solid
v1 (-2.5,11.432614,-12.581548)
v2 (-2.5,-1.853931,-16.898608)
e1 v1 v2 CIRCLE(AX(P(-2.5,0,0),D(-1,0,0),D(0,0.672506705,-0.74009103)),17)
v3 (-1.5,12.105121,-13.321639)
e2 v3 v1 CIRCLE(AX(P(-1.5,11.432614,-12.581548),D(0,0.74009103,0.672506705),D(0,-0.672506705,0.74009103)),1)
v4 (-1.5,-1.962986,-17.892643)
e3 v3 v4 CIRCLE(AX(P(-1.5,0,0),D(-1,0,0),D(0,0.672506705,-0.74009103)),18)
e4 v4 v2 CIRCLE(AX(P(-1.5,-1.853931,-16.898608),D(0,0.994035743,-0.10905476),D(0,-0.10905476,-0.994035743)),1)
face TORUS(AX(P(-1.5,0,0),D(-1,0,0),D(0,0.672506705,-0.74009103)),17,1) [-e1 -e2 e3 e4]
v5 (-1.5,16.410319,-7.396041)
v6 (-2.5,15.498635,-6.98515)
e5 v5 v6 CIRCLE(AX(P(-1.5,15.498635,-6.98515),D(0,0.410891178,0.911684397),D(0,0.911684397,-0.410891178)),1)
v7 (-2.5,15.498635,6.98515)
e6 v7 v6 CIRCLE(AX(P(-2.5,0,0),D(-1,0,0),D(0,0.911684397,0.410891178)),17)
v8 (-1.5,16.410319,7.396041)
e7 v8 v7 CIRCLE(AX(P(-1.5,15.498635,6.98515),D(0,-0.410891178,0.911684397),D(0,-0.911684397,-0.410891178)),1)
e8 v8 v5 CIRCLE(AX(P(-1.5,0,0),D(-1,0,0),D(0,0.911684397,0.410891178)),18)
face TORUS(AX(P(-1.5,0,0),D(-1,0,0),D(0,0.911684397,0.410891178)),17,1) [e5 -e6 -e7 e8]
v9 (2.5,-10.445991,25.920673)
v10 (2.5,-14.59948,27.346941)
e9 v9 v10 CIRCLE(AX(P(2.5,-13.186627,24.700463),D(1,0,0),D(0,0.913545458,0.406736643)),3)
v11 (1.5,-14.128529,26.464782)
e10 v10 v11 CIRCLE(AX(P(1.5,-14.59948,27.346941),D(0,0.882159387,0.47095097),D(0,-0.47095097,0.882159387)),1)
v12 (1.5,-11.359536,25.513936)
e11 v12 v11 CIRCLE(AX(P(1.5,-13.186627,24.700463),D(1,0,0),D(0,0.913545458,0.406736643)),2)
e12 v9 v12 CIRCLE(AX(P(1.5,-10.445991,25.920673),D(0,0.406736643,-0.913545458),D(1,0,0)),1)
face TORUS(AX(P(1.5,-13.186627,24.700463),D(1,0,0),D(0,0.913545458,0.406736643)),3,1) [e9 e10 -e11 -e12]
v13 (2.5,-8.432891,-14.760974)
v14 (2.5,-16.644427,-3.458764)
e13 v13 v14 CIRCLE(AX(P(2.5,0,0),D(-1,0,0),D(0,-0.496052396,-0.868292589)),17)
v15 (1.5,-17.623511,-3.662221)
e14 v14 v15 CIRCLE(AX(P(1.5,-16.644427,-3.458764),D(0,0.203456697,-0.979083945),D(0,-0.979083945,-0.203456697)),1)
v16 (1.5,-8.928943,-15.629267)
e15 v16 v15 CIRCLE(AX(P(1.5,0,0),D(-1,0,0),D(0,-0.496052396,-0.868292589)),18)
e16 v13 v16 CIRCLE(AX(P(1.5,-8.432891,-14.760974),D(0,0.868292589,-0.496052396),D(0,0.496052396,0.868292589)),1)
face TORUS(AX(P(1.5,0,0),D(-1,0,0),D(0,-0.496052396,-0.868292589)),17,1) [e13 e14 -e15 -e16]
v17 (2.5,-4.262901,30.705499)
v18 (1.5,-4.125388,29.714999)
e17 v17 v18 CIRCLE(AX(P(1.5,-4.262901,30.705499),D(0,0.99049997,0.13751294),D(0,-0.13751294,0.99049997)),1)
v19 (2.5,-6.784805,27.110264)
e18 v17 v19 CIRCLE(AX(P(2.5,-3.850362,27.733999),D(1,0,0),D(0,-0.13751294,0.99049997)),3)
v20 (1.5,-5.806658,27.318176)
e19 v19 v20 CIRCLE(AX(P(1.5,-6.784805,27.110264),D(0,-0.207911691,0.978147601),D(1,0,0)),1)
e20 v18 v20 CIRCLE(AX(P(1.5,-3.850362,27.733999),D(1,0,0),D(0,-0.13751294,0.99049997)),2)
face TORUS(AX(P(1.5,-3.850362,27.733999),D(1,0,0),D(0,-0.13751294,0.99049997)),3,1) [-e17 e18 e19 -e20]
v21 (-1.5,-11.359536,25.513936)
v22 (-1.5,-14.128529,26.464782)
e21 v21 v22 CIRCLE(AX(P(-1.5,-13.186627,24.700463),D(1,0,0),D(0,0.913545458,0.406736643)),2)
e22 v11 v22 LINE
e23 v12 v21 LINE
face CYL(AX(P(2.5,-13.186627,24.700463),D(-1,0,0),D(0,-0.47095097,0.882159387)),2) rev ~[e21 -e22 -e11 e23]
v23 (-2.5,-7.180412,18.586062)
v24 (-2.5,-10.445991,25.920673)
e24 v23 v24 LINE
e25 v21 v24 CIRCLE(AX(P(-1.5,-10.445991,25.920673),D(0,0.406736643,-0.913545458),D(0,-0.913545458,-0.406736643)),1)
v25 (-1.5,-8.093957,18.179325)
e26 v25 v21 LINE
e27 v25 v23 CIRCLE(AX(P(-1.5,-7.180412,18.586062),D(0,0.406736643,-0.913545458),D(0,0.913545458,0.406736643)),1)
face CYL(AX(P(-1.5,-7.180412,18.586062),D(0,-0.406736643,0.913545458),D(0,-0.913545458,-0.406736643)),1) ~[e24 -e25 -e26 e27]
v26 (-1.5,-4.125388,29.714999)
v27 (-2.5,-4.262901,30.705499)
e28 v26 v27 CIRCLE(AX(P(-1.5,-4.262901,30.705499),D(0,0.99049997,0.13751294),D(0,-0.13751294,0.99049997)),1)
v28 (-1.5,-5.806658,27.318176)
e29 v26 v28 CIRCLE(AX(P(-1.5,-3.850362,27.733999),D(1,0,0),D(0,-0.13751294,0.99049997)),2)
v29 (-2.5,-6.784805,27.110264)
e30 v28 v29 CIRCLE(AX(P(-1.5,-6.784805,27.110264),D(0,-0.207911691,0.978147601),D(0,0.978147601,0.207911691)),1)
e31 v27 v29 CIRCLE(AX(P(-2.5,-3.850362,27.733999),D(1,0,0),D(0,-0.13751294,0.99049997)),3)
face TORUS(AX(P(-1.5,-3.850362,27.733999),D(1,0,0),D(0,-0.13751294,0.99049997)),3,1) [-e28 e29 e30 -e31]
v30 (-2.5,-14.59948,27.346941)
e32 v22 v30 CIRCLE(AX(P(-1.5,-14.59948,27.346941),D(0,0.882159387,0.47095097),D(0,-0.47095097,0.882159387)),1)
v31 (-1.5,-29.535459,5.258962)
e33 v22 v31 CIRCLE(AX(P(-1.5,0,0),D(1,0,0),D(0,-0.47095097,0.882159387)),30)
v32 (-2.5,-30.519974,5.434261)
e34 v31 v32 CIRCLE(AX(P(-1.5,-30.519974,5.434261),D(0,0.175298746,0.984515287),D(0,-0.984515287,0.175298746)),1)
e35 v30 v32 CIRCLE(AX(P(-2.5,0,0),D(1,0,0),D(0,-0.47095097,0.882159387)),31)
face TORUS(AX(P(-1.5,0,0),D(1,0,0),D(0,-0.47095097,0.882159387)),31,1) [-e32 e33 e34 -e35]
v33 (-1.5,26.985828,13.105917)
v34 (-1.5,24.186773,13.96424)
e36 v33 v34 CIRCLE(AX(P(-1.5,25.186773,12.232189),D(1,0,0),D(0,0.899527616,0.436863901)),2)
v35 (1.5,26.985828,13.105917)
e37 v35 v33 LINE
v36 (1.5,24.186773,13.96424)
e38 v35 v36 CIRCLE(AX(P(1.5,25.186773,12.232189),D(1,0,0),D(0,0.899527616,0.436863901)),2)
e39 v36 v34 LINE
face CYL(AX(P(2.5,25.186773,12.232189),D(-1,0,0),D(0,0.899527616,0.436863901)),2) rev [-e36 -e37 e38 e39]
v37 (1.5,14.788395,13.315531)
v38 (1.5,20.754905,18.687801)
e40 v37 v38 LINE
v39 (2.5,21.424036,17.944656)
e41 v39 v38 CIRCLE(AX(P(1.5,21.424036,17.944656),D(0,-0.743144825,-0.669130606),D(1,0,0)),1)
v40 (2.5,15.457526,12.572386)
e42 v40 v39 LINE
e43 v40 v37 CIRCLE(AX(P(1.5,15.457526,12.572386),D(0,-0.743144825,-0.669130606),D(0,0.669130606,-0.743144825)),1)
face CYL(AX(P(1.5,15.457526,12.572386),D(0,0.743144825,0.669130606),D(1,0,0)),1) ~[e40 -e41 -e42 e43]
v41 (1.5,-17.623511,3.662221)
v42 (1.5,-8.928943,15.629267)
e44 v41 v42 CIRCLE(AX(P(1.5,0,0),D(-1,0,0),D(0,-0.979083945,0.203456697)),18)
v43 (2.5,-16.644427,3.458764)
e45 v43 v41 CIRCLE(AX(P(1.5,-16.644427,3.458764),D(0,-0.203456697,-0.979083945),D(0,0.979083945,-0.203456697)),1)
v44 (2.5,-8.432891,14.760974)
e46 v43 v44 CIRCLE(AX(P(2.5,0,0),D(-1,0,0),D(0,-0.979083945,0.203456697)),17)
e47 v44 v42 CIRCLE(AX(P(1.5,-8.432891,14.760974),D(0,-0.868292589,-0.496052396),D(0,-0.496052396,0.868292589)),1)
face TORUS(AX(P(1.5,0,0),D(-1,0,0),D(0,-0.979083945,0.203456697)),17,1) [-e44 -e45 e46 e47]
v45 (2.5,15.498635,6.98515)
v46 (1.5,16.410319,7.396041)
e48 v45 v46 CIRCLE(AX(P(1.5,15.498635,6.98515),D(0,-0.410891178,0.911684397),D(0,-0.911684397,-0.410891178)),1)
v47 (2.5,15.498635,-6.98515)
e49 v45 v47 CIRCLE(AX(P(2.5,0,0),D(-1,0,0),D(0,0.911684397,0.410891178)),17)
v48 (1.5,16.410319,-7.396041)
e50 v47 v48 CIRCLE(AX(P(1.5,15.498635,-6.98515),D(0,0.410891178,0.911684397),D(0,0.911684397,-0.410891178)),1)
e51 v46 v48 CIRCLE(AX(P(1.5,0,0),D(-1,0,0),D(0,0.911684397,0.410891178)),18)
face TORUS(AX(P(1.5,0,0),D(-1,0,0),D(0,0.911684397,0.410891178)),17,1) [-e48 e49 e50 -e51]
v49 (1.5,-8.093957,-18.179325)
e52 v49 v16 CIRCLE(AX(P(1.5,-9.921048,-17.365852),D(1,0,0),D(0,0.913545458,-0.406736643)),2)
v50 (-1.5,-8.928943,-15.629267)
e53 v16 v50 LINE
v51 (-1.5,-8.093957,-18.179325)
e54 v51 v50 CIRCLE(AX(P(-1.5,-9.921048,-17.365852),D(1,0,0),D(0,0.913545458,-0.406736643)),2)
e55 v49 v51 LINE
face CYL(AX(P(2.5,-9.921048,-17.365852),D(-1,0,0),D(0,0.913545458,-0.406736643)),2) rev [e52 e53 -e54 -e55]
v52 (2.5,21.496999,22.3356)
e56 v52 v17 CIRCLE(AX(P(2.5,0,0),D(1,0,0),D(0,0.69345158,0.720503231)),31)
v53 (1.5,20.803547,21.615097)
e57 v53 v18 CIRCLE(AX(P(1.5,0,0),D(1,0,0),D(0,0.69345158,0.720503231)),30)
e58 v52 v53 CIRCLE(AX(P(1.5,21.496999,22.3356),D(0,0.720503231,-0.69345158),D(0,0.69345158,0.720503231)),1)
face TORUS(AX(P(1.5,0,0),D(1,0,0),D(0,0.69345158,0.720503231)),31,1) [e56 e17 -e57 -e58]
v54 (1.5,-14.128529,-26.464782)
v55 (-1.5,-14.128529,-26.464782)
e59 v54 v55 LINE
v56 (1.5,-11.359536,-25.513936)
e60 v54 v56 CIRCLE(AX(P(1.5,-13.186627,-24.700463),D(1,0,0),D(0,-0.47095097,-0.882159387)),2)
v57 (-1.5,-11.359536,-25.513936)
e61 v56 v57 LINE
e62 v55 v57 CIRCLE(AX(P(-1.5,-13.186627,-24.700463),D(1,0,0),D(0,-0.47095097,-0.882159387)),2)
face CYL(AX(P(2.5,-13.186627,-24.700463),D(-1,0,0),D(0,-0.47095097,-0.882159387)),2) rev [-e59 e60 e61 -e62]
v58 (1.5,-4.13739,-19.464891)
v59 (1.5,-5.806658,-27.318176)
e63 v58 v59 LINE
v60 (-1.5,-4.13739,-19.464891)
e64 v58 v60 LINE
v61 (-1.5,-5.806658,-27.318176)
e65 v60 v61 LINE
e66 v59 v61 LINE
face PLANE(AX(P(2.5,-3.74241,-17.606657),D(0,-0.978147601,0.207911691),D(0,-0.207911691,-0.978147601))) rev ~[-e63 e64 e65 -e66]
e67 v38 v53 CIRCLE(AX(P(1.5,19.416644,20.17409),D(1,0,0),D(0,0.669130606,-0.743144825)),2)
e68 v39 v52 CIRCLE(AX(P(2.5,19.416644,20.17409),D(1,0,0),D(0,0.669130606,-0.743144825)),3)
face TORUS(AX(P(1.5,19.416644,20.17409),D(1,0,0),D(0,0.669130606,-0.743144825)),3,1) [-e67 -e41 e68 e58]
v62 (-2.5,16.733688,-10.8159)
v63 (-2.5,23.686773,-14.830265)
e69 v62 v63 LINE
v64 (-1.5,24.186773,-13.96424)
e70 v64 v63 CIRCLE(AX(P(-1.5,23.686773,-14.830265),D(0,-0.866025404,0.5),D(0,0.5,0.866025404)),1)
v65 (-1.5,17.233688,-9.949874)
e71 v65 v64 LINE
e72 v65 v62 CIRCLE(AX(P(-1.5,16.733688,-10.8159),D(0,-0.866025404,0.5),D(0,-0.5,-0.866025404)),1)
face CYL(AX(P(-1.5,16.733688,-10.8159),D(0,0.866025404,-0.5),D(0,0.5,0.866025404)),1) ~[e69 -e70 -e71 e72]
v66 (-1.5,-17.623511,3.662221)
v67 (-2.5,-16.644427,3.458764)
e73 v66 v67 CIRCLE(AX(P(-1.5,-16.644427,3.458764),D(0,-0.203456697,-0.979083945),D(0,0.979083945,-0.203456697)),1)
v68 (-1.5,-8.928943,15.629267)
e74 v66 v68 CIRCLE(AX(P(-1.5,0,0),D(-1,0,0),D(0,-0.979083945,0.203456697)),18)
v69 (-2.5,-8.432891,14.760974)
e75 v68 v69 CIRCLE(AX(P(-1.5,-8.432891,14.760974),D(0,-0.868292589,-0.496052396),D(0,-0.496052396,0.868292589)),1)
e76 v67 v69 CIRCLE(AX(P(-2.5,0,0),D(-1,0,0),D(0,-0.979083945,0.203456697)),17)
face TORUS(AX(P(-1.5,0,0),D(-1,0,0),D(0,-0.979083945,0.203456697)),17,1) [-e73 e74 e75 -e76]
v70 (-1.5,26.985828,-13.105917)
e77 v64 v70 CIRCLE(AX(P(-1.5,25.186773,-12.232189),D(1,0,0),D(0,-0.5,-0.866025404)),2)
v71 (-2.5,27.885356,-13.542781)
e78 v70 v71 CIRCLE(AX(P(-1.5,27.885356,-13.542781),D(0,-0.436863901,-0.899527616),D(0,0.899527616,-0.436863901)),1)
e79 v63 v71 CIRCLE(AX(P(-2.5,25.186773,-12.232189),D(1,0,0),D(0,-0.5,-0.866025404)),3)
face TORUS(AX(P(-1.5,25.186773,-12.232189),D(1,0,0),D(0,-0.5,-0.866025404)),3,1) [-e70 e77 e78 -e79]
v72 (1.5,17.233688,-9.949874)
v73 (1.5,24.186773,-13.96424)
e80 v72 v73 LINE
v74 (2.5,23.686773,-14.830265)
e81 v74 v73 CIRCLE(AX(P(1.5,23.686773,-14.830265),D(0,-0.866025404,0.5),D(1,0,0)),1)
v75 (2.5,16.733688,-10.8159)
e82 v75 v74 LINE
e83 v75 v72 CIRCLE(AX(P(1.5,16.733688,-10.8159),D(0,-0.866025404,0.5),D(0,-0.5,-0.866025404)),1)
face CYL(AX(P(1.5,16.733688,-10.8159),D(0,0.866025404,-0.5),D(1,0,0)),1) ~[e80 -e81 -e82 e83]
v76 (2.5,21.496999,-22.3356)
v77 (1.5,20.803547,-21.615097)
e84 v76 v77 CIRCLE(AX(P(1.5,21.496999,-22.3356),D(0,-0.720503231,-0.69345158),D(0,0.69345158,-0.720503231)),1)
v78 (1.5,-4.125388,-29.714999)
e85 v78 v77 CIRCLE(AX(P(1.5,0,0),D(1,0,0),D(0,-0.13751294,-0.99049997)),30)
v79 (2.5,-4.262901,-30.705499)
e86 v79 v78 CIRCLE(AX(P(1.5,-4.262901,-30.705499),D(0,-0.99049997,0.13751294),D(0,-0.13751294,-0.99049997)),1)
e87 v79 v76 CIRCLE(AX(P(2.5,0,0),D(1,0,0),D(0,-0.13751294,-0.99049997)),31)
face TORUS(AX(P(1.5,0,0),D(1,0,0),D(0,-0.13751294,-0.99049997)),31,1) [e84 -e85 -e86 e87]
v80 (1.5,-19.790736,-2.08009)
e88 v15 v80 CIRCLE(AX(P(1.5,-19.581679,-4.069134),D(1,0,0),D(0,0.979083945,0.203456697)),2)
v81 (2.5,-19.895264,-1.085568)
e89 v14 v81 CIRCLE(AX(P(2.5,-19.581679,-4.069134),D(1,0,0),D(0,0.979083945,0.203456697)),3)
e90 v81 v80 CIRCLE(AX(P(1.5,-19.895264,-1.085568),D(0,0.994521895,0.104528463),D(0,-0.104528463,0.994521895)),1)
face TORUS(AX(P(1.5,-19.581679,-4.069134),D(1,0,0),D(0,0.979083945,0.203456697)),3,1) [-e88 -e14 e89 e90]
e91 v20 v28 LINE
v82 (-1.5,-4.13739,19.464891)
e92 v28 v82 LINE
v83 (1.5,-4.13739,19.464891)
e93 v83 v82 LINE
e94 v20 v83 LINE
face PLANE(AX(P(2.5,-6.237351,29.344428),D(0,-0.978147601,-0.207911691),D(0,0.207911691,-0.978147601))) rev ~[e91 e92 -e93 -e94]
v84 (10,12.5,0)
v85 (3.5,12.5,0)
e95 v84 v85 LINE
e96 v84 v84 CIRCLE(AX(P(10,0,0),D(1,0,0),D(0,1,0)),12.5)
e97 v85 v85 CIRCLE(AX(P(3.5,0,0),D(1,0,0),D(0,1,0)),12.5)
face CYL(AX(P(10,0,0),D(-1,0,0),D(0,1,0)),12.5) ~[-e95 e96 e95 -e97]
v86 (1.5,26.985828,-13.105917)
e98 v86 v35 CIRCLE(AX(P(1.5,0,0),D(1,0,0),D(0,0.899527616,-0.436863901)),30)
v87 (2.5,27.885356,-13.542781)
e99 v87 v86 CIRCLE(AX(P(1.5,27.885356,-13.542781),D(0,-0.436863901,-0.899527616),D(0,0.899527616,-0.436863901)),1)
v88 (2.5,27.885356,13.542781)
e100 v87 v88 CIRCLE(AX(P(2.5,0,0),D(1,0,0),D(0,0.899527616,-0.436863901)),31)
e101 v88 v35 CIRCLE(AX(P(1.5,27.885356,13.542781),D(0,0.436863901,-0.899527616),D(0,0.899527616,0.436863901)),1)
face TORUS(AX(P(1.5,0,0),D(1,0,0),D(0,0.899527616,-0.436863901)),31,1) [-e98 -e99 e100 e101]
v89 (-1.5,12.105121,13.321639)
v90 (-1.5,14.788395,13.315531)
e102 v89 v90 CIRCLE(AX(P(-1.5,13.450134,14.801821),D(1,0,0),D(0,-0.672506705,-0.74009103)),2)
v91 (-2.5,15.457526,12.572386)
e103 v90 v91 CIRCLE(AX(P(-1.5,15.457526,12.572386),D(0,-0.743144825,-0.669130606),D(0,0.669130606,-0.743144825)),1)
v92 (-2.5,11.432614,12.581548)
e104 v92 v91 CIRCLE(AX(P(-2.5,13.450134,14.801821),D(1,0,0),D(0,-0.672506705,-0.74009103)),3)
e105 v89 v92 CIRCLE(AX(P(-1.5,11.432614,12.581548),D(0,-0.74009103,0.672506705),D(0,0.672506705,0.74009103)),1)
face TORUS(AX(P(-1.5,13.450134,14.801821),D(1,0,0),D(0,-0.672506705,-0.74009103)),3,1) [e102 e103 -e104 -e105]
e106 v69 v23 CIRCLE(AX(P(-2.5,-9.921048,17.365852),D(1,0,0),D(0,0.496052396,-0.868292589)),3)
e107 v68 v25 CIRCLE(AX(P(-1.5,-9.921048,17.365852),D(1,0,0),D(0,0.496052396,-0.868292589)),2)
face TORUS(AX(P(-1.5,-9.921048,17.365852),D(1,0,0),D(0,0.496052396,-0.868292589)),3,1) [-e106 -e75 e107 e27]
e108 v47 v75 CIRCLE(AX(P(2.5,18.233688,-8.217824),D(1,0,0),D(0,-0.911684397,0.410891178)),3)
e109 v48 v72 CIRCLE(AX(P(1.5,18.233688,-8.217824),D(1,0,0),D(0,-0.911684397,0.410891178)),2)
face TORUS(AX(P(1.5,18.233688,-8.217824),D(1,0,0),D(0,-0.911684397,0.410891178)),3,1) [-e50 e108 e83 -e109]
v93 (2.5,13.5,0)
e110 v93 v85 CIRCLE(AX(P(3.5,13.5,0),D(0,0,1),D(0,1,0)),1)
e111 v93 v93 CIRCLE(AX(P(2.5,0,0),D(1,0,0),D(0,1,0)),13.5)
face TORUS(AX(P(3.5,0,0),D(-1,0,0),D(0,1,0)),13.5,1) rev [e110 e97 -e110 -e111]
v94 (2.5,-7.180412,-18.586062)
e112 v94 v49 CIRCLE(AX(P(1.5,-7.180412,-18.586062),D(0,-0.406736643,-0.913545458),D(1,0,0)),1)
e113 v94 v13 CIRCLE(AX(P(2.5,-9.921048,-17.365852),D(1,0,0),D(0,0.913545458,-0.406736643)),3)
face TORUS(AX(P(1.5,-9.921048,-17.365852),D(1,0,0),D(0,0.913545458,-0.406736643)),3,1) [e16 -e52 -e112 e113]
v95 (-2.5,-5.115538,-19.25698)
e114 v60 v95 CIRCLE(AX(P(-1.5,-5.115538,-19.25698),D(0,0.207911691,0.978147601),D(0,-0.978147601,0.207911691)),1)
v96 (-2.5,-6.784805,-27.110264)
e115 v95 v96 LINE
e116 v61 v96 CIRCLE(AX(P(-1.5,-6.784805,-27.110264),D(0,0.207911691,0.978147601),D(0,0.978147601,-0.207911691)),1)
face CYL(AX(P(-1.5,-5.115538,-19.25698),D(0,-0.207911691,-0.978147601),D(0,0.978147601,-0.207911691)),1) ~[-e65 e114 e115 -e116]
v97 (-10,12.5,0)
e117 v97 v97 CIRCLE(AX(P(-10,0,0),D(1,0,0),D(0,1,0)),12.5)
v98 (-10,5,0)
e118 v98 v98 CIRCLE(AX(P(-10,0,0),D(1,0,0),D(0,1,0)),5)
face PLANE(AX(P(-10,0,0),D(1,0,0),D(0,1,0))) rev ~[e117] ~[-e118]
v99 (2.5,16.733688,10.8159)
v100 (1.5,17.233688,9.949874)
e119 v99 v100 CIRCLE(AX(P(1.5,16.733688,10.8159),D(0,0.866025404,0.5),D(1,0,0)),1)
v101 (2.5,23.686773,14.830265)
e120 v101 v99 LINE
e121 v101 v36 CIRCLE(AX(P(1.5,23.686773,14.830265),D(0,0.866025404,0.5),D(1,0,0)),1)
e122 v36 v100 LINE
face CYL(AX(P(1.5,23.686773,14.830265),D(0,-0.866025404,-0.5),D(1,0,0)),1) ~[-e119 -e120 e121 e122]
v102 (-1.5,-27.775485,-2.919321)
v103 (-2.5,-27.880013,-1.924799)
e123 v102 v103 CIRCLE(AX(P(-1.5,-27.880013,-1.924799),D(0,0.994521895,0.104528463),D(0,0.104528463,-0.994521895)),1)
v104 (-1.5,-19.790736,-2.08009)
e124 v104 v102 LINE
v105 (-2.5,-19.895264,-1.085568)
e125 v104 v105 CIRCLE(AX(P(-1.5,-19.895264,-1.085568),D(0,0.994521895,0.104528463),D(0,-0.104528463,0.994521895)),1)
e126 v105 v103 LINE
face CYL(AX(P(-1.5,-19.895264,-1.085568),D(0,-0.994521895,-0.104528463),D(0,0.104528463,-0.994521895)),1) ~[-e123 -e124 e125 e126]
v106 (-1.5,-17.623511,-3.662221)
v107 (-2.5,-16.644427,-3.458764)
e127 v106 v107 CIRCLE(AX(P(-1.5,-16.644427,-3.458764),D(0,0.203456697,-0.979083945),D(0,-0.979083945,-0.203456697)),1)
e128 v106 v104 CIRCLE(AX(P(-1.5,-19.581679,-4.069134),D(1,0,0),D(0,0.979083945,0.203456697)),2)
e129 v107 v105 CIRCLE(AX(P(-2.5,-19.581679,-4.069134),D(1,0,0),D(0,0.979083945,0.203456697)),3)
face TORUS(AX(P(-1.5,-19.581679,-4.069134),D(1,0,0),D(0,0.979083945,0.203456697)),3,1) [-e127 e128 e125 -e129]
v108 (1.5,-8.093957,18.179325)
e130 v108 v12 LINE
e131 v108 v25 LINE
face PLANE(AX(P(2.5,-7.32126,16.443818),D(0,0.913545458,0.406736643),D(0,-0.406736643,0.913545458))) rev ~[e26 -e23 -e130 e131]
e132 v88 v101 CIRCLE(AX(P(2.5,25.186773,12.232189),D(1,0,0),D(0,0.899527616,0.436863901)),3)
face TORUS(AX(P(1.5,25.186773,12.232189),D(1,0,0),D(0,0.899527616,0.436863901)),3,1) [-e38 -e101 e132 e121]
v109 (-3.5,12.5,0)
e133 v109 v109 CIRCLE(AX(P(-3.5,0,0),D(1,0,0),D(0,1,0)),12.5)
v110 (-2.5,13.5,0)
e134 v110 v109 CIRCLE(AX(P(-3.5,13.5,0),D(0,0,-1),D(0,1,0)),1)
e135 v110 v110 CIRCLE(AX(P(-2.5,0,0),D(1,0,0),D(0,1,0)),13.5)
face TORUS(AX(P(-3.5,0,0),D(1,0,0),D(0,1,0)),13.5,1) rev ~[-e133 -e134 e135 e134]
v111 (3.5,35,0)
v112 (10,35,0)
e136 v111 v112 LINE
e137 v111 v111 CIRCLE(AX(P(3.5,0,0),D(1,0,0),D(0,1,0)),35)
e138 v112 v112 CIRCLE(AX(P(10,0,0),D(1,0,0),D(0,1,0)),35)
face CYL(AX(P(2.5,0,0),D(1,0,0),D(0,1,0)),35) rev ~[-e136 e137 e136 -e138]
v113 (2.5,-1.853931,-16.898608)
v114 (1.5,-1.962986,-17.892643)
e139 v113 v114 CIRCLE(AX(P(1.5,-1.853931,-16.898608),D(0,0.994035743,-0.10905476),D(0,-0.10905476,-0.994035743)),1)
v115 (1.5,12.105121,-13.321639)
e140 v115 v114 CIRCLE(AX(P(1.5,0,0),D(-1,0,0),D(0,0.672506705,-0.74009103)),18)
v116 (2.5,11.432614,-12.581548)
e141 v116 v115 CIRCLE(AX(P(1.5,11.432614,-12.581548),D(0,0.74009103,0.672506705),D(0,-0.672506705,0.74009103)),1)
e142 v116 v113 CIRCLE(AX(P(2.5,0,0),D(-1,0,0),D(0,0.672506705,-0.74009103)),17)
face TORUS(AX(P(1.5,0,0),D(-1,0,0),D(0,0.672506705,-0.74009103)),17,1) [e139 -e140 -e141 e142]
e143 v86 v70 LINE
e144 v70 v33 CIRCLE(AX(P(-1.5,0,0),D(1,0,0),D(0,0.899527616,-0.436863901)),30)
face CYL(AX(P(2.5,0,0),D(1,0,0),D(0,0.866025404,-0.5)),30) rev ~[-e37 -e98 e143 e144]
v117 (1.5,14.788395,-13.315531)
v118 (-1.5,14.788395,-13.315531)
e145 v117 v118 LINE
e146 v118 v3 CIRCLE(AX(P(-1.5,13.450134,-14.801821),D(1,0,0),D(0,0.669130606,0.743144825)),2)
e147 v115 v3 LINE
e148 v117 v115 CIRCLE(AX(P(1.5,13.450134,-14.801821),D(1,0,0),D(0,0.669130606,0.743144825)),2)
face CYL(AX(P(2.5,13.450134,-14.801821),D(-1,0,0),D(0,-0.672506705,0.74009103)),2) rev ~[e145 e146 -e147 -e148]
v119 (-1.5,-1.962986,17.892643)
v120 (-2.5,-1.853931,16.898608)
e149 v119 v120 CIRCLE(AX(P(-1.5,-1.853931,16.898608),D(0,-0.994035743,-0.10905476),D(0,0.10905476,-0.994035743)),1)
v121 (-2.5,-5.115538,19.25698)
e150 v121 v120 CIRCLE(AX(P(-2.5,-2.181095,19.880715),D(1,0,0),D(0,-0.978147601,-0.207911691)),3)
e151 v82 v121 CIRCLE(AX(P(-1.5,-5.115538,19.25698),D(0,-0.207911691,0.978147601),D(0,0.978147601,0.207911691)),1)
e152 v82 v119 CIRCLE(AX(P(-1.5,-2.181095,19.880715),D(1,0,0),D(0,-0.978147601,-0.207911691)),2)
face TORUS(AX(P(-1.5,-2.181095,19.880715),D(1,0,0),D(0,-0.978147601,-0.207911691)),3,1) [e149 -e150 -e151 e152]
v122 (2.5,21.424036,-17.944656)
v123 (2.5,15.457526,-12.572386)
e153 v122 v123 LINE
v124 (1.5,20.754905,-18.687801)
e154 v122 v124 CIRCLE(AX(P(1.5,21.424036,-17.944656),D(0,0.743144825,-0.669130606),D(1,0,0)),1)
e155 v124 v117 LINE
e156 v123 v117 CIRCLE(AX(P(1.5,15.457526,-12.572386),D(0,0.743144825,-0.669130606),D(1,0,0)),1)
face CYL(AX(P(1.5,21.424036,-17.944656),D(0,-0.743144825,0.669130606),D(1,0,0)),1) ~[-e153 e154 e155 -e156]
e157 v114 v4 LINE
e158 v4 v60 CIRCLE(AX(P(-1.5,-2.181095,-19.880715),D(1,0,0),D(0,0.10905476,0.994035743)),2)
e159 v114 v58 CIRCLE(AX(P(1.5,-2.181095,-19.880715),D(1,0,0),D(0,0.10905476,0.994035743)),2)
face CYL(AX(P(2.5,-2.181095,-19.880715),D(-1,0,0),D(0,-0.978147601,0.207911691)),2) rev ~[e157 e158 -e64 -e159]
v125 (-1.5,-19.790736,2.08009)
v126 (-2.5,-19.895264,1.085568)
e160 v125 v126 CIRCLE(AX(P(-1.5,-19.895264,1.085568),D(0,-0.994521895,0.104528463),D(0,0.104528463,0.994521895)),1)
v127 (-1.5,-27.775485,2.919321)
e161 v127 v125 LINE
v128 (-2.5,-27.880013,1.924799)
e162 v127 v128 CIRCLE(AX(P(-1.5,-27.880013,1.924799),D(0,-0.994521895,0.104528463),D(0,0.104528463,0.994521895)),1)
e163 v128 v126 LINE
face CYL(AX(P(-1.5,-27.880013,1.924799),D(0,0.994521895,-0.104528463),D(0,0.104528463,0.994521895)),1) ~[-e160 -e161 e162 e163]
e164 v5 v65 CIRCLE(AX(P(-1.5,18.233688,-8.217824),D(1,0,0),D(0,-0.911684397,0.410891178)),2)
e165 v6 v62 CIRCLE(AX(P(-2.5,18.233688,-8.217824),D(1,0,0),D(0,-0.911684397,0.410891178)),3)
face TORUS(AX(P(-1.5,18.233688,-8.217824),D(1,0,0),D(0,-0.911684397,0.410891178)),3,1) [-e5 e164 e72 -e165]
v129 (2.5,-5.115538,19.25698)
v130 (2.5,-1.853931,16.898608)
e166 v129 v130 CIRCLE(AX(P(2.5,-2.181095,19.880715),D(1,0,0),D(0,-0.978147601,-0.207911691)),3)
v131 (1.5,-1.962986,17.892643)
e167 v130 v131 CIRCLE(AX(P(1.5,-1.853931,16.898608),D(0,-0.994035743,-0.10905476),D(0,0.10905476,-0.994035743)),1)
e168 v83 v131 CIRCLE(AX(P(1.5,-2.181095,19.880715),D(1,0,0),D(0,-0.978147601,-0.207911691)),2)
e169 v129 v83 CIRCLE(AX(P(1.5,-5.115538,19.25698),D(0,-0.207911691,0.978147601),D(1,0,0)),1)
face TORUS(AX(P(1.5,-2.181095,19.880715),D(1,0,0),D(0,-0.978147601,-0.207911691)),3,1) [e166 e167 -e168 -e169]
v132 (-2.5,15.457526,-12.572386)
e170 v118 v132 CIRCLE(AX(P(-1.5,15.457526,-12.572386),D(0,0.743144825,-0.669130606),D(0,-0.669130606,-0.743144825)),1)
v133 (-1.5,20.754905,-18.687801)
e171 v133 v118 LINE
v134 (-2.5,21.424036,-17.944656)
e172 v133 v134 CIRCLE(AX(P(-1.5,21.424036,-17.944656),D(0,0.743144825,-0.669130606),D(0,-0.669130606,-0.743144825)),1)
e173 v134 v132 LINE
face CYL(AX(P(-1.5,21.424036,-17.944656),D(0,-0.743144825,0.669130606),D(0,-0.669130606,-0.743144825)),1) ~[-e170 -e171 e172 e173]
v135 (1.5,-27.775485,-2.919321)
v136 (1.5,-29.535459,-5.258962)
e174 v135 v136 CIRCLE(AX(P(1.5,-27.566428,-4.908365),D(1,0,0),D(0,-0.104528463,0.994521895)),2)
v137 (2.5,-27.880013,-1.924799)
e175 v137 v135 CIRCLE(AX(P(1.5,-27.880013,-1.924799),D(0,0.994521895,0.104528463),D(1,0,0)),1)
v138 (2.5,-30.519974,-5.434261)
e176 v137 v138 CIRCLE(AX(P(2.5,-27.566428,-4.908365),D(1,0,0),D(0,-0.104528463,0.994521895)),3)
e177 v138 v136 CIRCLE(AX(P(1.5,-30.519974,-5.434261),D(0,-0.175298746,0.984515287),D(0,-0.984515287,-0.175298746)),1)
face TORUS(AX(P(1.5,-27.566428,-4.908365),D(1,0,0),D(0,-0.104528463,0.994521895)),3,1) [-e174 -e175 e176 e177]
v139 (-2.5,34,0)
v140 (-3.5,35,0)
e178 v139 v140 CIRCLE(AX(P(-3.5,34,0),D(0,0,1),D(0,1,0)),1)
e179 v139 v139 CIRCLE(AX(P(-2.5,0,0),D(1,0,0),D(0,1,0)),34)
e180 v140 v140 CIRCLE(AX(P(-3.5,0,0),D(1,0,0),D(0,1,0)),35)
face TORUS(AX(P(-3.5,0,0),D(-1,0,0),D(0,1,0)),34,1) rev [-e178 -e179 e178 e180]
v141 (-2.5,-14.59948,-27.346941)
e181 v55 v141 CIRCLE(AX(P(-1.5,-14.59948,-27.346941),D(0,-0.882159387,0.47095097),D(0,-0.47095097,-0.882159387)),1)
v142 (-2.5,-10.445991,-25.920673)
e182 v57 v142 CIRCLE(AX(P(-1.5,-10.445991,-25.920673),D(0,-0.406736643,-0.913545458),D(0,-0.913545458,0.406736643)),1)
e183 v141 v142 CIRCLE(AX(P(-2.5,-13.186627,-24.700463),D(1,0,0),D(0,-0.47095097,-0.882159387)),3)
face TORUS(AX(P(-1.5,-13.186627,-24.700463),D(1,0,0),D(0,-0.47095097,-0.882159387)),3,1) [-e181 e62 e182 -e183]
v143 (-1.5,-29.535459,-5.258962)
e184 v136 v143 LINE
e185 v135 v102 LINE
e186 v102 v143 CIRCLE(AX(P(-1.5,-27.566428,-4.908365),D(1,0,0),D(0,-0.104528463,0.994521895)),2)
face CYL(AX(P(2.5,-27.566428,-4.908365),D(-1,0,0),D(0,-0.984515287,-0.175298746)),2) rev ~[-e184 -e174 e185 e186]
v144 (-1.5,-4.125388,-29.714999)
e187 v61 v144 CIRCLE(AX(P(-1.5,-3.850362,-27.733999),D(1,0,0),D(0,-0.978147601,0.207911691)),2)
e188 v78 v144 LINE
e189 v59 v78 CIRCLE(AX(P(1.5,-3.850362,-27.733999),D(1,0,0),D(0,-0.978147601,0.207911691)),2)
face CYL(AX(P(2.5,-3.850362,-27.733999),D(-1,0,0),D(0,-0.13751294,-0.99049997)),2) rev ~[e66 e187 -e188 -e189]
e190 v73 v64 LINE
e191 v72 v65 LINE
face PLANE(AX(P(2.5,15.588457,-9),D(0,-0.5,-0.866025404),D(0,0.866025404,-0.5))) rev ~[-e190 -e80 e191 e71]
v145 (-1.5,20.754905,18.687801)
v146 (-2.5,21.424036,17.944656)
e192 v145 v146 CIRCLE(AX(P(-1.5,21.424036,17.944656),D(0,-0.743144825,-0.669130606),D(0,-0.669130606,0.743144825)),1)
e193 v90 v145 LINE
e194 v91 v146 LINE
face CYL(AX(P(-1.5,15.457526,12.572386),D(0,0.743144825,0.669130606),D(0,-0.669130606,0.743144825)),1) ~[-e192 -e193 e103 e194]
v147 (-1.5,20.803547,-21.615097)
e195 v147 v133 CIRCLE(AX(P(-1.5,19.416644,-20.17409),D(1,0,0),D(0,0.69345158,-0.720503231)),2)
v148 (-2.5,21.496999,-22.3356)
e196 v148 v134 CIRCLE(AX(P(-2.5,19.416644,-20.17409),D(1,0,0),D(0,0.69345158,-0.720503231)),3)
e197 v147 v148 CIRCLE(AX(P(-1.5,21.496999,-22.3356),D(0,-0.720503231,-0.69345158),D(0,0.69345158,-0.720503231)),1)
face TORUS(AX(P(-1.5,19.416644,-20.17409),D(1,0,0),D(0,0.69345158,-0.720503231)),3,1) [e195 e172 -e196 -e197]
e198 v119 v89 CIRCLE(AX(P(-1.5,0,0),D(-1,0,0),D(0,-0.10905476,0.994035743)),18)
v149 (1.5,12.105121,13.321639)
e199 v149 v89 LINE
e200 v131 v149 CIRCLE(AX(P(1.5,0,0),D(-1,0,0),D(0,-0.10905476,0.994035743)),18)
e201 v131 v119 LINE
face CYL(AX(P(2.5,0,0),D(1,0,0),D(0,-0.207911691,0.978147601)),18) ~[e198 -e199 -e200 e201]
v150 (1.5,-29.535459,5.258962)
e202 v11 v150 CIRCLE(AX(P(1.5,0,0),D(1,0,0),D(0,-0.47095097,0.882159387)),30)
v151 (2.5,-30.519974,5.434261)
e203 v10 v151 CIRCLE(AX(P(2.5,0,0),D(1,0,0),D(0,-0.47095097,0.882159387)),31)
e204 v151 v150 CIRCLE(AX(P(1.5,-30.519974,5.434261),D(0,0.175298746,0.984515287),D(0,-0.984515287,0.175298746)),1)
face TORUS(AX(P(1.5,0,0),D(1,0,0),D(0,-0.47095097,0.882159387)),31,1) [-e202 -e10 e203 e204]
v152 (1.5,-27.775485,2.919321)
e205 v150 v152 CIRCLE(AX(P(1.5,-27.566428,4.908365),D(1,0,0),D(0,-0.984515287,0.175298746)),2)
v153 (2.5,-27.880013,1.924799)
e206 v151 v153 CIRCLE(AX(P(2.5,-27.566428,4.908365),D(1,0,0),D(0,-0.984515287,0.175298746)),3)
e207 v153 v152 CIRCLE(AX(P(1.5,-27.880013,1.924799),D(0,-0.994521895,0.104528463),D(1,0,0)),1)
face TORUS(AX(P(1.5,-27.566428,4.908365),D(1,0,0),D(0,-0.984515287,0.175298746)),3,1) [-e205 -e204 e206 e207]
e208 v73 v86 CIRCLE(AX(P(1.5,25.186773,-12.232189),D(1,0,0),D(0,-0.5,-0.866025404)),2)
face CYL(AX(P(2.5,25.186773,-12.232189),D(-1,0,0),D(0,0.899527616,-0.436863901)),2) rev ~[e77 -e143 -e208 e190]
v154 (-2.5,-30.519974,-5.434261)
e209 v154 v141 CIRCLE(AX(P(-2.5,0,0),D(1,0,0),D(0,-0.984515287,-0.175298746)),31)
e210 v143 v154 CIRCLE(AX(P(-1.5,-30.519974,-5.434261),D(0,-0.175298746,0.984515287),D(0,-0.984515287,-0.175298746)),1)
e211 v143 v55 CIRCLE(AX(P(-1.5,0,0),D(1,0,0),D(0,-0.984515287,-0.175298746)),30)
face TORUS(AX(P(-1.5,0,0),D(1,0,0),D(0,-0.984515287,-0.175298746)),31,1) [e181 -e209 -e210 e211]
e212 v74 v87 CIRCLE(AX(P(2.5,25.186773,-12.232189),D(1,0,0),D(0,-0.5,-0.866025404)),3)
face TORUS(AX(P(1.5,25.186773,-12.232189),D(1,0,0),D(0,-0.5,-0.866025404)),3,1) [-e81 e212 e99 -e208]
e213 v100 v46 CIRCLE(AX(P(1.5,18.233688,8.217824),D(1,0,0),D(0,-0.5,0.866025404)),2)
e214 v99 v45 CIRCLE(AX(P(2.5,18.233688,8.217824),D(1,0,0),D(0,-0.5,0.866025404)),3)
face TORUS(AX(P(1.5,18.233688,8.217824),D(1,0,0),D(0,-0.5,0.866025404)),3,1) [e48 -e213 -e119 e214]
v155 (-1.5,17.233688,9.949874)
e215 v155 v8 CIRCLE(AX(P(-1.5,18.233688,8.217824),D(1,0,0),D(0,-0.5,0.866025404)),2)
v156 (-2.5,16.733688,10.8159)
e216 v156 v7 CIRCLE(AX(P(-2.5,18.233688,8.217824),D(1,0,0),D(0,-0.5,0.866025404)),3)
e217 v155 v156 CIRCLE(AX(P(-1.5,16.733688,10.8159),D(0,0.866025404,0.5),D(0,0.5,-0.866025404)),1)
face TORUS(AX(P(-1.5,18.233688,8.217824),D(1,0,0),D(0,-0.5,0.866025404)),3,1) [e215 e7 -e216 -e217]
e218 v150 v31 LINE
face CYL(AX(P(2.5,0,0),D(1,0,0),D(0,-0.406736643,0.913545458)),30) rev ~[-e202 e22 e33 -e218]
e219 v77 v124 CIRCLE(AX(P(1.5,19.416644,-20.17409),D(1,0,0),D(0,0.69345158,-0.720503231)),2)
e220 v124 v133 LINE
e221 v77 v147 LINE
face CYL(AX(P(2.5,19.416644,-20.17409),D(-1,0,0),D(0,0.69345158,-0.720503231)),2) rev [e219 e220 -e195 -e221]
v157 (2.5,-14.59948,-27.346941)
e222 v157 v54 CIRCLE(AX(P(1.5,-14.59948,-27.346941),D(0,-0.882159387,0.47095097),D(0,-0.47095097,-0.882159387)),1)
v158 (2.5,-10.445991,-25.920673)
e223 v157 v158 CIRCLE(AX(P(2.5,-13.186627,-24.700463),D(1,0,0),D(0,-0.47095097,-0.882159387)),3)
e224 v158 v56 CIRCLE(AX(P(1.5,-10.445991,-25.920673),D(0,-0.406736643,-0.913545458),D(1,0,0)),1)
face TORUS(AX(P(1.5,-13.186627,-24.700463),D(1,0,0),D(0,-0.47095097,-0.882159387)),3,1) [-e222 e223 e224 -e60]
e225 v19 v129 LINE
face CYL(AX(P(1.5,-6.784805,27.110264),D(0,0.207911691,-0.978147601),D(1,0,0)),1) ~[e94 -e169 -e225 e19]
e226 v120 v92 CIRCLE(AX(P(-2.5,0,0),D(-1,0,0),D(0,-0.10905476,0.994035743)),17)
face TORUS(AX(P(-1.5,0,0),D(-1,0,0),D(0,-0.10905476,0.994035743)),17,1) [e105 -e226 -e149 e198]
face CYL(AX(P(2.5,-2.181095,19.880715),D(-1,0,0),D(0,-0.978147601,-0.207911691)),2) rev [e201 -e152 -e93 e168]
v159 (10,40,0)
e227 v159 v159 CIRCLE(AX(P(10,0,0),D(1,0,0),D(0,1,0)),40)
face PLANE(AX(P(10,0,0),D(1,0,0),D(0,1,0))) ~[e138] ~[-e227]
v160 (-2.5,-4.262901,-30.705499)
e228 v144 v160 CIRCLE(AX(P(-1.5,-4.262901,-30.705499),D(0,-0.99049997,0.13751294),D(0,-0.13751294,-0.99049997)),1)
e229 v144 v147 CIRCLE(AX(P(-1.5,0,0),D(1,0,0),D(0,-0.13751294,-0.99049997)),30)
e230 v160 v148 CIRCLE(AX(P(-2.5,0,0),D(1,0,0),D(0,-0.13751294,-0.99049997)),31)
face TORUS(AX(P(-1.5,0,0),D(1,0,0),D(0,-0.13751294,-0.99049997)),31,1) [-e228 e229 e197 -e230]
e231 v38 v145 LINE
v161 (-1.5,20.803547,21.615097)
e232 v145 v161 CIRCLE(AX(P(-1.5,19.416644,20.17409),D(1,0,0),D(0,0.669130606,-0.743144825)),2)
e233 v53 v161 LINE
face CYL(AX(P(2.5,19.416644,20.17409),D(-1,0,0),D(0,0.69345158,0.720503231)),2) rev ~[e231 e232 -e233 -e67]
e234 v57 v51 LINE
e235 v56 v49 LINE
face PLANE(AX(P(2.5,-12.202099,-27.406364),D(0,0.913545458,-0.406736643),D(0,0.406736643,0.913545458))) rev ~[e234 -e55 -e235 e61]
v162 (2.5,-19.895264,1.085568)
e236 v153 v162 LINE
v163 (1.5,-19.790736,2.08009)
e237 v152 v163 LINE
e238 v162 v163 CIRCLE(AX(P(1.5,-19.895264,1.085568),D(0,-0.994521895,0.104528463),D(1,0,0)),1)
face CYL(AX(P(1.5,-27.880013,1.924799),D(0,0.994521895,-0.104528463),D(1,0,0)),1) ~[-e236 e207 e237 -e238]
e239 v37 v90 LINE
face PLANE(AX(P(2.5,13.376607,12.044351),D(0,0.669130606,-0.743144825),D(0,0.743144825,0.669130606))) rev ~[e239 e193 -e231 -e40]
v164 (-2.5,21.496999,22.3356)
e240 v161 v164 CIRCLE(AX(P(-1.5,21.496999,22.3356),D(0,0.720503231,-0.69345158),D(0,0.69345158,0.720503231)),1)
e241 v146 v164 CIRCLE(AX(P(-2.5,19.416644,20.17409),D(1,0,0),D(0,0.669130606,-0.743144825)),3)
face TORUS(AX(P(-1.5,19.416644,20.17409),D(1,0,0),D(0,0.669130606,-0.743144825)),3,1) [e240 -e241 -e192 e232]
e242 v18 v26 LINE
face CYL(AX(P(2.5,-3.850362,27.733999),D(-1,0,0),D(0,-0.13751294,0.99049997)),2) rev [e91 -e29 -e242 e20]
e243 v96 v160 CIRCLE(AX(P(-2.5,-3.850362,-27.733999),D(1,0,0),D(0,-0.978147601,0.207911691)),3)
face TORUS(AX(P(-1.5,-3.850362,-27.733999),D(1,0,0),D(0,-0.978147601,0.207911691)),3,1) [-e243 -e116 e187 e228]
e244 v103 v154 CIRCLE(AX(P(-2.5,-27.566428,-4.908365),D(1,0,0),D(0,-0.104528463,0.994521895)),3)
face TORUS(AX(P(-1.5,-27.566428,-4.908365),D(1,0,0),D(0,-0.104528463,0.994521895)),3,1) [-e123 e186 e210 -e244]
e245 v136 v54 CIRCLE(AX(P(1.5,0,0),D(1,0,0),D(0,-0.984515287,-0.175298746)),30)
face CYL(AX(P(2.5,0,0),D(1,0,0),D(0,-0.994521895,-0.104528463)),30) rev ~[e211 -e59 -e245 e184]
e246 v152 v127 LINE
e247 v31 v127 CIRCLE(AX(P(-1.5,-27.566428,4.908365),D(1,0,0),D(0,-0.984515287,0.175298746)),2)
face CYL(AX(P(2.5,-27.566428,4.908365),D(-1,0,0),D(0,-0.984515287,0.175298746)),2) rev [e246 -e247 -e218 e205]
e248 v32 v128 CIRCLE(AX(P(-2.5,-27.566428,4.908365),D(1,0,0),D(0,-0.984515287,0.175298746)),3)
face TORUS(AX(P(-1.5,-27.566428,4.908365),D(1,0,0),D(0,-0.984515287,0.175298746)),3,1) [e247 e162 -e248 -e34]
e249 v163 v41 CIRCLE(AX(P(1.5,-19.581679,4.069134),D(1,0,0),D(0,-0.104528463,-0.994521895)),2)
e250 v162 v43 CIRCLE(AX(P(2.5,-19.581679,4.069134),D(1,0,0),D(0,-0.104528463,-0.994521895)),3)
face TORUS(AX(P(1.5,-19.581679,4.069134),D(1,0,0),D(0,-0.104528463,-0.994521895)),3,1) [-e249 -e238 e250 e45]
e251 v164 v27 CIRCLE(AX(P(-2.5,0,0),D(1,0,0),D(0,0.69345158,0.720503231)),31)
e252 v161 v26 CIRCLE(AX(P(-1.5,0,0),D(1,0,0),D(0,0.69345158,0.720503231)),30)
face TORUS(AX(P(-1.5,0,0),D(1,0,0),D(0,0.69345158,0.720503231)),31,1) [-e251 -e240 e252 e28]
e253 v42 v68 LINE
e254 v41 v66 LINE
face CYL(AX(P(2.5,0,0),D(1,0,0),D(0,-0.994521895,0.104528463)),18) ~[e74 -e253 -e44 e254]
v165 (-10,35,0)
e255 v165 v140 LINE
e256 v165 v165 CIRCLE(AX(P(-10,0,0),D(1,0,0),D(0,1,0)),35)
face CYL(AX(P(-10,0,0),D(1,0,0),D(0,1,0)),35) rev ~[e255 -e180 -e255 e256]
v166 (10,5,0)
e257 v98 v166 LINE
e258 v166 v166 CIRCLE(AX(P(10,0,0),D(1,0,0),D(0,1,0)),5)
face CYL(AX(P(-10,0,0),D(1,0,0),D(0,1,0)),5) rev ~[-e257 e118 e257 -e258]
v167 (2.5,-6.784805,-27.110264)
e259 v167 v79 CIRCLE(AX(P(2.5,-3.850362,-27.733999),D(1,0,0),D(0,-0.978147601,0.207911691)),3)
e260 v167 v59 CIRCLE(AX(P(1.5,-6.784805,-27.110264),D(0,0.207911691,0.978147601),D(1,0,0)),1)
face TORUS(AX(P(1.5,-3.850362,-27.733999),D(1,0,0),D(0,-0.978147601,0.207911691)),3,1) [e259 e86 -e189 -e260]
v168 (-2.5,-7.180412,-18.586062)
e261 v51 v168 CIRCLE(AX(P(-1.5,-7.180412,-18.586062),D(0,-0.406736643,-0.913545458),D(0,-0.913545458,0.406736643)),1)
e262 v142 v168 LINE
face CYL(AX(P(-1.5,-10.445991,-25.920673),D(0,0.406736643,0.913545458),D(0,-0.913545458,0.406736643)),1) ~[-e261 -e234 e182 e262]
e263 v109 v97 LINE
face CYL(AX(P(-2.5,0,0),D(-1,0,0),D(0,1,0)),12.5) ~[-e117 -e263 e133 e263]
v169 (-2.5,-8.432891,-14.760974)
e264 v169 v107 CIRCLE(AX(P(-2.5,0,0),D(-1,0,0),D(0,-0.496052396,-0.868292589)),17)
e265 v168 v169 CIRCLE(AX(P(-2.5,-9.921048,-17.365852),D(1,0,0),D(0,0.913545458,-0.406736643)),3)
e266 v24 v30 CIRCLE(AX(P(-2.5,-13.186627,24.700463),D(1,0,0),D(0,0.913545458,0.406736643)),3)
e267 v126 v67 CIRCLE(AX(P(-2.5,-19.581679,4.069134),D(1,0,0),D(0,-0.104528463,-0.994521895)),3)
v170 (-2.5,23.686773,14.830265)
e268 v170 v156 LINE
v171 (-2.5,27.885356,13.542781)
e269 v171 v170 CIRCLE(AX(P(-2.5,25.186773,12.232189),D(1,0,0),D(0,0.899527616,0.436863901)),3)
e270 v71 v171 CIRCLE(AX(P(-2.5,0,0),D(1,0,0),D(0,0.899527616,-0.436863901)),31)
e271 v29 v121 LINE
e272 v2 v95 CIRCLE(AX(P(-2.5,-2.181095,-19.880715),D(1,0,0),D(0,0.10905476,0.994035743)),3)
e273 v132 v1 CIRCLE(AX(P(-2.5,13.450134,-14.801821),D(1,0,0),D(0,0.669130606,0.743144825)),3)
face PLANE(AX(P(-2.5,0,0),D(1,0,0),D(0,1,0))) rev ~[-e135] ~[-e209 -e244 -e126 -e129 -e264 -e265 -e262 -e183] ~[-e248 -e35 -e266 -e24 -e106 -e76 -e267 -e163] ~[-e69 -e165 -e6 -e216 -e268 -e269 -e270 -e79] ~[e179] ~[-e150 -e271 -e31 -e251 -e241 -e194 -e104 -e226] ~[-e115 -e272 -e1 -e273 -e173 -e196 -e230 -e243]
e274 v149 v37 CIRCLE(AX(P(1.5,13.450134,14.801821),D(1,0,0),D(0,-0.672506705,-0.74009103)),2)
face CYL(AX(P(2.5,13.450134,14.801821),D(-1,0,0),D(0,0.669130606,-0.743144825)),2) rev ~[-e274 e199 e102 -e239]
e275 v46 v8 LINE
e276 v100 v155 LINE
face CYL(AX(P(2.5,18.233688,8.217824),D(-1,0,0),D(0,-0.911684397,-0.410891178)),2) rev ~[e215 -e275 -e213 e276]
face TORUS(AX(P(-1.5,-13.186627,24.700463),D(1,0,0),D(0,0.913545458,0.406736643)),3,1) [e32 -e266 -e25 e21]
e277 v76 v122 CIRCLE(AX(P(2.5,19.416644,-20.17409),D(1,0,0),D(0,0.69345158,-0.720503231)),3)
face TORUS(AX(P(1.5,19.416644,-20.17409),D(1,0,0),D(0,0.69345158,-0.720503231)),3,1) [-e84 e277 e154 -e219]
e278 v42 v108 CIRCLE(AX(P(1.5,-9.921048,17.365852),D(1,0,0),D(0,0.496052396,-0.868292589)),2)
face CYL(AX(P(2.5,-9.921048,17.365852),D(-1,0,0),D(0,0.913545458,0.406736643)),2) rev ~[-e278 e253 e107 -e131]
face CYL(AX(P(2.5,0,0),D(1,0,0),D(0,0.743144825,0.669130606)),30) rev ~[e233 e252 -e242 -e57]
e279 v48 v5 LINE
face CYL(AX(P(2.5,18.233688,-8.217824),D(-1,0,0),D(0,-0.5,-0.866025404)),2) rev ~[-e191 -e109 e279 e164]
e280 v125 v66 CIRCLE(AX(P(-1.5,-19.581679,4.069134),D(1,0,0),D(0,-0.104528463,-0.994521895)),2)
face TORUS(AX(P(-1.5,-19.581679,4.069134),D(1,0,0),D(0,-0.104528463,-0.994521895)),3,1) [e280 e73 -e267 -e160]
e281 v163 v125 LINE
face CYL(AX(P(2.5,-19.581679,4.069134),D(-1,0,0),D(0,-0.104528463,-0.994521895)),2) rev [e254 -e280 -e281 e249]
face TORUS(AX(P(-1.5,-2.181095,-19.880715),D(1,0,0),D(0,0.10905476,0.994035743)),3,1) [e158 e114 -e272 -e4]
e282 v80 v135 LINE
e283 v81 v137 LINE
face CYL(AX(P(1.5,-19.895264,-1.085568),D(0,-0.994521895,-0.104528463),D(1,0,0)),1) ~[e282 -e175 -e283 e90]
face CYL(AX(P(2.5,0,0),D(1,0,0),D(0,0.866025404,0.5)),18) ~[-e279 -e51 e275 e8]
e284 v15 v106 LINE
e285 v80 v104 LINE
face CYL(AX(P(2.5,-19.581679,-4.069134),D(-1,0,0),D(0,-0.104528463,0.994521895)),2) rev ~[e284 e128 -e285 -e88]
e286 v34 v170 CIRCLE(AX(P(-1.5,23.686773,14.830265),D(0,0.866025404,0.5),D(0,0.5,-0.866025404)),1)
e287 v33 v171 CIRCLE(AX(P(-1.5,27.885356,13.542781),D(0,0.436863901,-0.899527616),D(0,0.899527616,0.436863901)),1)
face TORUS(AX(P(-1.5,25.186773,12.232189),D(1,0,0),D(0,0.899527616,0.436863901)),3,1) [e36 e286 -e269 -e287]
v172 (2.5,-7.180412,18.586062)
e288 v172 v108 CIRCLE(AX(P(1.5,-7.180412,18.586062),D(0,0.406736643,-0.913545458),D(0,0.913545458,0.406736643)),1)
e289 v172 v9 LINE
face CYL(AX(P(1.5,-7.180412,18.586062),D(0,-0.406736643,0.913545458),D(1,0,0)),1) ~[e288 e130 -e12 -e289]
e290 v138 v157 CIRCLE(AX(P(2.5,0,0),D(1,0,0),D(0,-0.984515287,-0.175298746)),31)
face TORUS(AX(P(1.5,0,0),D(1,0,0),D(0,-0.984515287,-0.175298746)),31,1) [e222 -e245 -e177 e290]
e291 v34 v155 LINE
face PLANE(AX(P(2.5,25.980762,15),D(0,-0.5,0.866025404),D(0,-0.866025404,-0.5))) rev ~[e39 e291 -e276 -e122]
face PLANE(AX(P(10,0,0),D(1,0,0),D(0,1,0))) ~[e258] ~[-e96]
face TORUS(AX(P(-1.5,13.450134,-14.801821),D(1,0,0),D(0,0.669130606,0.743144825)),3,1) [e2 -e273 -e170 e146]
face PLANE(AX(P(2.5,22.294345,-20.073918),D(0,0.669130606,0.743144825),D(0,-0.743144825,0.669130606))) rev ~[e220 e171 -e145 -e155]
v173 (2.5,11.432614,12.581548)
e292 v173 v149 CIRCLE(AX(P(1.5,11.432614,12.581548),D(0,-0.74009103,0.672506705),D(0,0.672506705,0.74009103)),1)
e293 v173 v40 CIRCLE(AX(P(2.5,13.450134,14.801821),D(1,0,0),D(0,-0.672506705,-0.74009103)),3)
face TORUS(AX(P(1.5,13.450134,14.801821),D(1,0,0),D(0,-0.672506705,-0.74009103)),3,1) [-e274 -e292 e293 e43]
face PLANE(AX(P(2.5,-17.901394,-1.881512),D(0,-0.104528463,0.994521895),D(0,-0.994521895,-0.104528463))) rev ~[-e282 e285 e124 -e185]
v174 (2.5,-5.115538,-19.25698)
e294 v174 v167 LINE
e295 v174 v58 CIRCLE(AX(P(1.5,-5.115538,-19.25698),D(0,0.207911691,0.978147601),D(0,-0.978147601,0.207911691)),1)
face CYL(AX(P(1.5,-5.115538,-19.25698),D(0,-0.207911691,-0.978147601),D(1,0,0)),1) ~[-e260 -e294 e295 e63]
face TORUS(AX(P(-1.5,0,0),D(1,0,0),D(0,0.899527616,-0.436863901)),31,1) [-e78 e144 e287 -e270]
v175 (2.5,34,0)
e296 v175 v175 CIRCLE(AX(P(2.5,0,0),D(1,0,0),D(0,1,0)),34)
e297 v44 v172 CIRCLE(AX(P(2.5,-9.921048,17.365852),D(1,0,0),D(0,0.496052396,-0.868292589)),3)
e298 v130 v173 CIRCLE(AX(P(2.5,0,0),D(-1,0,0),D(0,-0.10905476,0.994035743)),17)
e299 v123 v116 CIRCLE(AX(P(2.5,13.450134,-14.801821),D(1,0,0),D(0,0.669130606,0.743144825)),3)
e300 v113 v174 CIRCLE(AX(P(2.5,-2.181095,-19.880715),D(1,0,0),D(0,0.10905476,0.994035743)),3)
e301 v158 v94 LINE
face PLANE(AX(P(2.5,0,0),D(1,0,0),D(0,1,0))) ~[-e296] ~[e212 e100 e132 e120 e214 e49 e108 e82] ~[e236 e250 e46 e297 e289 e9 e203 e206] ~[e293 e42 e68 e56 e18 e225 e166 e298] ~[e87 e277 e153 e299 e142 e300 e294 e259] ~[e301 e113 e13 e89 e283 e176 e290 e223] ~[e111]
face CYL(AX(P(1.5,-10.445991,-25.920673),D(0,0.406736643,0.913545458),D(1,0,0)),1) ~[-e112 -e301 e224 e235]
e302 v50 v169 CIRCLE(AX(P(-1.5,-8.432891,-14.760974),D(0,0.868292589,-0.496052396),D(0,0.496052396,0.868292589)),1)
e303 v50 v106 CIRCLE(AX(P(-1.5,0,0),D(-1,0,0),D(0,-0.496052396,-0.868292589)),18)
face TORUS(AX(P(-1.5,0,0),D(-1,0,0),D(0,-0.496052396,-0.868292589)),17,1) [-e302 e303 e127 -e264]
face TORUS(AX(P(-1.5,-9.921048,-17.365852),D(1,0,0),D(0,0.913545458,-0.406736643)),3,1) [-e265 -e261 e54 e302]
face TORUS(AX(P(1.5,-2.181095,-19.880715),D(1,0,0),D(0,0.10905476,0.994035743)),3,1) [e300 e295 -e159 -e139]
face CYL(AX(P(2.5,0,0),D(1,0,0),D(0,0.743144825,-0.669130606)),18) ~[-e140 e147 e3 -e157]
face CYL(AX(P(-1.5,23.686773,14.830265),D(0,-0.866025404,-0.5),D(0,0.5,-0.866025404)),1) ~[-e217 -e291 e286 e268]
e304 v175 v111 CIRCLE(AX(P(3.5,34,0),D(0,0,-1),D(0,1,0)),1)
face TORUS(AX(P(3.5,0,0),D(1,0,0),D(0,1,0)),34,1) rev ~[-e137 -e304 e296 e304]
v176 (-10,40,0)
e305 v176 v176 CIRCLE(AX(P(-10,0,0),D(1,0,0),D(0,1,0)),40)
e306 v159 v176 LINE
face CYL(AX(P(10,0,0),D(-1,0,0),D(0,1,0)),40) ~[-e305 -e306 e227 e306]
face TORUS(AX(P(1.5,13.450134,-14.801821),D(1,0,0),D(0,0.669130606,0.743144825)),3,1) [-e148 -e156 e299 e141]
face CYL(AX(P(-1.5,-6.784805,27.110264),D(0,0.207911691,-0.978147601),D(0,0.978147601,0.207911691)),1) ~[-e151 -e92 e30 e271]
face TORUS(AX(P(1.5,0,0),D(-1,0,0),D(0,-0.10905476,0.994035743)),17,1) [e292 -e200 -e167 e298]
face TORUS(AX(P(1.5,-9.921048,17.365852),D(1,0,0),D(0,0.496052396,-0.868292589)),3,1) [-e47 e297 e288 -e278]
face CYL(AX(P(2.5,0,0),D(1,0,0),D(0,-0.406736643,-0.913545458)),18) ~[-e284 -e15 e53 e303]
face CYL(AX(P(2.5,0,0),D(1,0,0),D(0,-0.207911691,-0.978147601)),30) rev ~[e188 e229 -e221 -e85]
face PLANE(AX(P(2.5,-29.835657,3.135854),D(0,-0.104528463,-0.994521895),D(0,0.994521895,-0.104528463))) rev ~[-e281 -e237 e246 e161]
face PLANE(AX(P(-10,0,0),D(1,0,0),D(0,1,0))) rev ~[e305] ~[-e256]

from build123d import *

# Parameters (mm, degrees)
CUT_EXTRUDE1_DEPTH       = 13.5
FILLET2_R                = 2
CIRPATTERN1_COUNT        = 5
FILLET2_OF_CIRPATTERN1_R = 2
FILLET3_R                = 1
FILLET4_R                = 1


with BuildPart() as part:
    # Sketch1 → Revolve1 (revolve)
    with BuildSketch(Plane.XY):
        Polygon((2.5, 35), (10, 35), (10, 40), (-10, 40), (-10, 35), (-2.5, 35), (-2.5, 12.5), (-10, 12.5), (-10, 5), (10, 5), (10, 12.5), (2.5, 12.5), align=None)
    revolve(axis=Axis((0, 0, 0), (1, 0, 0)))

    # Sketch2 → Cut-Extrude1 (cut, through all)
    with BuildSketch(Plane(origin=(2.5, 0, 0), x_dir=(0, 0, -1), z_dir=(1, 0, 0))):
        with BuildLine():
            Line((-15, 25.980762114), (-9, 15.588457268))
            ThreePointArc((-9, 15.588457268), (0, 18), (9, 15.588457268))
            Line((9, 15.588457268), (15, 25.980762114))
            ThreePointArc((15, 25.980762114), (0, 30), (-15, 25.980762114))
        make_face()
    cut_extrude1 = extrude(amount=-CUT_EXTRUDE1_DEPTH, mode=Mode.SUBTRACT)

    # Fillet2
    fillet2_edges = [part.edges().sort_by_distance(p)[0] for p in [
        (0, 25.980762114, 15),
        (0, 25.980762114, -15),
        (0, 15.588457268, -9),
        (0, 15.588457268, 9),
    ]]
    fillet(fillet2_edges, radius=FILLET2_R)

    # CirPattern1: Cut-Extrude1 ×5 about axis
    cirpattern1_axis = Axis((0, 0, 0), (1, 0, 0))
    for i in range(1, CIRPATTERN1_COUNT):
        add(cut_extrude1.rotate(cirpattern1_axis, i * 360 / CIRPATTERN1_COUNT), mode=Mode.SUBTRACT)

    # Fillet2 of CirPattern1
    fillet2_of_cirpattern1_edges = [part.edges().sort_by_distance(p)[0] for p in [
        (0, -6.237350725, 29.344428022),
        (0, 22.294344764, 20.073918191),
        (0, 13.376606859, 12.044350914),
        (0, -3.742410435, 17.606656813),
        (0, -29.835656861, 3.135853898),
        (0, -12.202099292, 27.406363729),
        (0, -7.321259575, 16.443818238),
        (0, -17.901394117, 1.881512339),
        (0, -12.202099292, -27.406363729),
        (0, -29.835656861, -3.135853898),
        (0, -17.901394117, -1.881512339),
        (0, -7.321259575, -16.443818238),
        (0, 22.294344764, -20.073918191),
        (0, -6.237350725, -29.344428022),
        (0, -3.742410435, -17.606656813),
        (0, 13.376606859, -12.044350914),
    ]]
    fillet(fillet2_of_cirpattern1_edges, radius=FILLET2_OF_CIRPATTERN1_R)

    # Fillet3
    fillet3_edges = [part.edges().sort_by_distance(p)[0] for p in [
        (2.5, -12.5, 0),
        (2.5, -35, 0),
        (2.5, 17.771650383, -16.001665879),
        (2.5, 9.270509831, -28.531695489),
        (2.5, 5.562305899, -17.119017293),
        (2.5, -4.972023962, -23.391533639),
        (2.5, 21.416368191, -20.14086169),
        (2.5, 13.445581763, -12.801825774),
        (2.5, -5.487704354, -28.882524769),
        (2.5, -3.352979753, -18.260009279),
        (2.5, -9.726746619, -21.846630597),
        (2.5, -24.270509831, -17.633557569),
        (2.5, -14.562305899, -10.580134541),
        (2.5, -23.783110394, -2.49970563),
        (2.5, -12.537076026, -26.592045067),
        (2.5, -8.020346559, -16.743489875),
        (2.5, -29.164707294, -3.706074009),
        (2.5, -18.402428538, -2.453779941),
        (2.5, -23.783110394, 2.49970563),
        (2.5, -24.270509831, 17.633557569),
        (2.5, -14.562305899, 10.580134541),
        (2.5, -9.726746619, 21.846630597),
        (2.5, -29.164707294, 3.706074009),
        (2.5, -18.402428538, 2.453779941),
        (2.5, -12.537076026, 26.592045067),
        (2.5, -8.020346559, 16.743489875),
        (2.5, -4.972023962, 23.391533639),
        (2.5, 9.270509831, 28.531695489),
        (2.5, 5.562305899, 17.119017293),
        (2.5, 17.771650383, 16.001665879),
        (2.5, -5.487704354, 28.882524769),
        (2.5, -3.352979753, 18.260009279),
        (2.5, 21.416368191, 20.14086169),
        (2.5, 13.445581763, 12.801825774),
        (2.5, 20.710230592, 11.957057207),
        (2.5, 30, 0),
        (2.5, 18, 0),
        (2.5, 20.710230592, -11.957057207),
        (2.5, 25.773119483, 14.14430798),
        (2.5, 16.330173087, 8.831526428),
        (2.5, 25.773119483, -14.14430798),
        (2.5, 16.330173087, -8.831526428),
    ]]
    fillet(fillet3_edges, radius=FILLET3_R)

    # Fillet4
    fillet4_edges = [part.edges().sort_by_distance(p)[0] for p in [
        (-2.5, -35, 0),
        (-2.5, -12.5, 0),
        (-2.5, 17.771650383, -16.001665879),
        (-2.5, 9.270509831, -28.531695489),
        (-2.5, 5.562305899, -17.119017293),
        (-2.5, -4.972023962, -23.391533639),
        (-2.5, 21.416368191, -20.14086169),
        (-2.5, 13.445581763, -12.801825774),
        (-2.5, -5.487704354, -28.882524769),
        (-2.5, -3.352979753, -18.260009279),
        (-2.5, -9.726746619, -21.846630597),
        (-2.5, -24.270509831, -17.633557569),
        (-2.5, -14.562305899, -10.580134541),
        (-2.5, -23.783110394, -2.49970563),
        (-2.5, -12.537076026, -26.592045067),
        (-2.5, -8.020346559, -16.743489875),
        (-2.5, -29.164707294, -3.706074009),
        (-2.5, -18.402428538, -2.453779941),
        (-2.5, -23.783110394, 2.49970563),
        (-2.5, -24.270509831, 17.633557569),
        (-2.5, -14.562305899, 10.580134541),
        (-2.5, -9.726746619, 21.846630597),
        (-2.5, -29.164707294, 3.706074009),
        (-2.5, -18.402428538, 2.453779941),
        (-2.5, -12.537076026, 26.592045067),
        (-2.5, -8.020346559, 16.743489875),
        (-2.5, -4.972023962, 23.391533639),
        (-2.5, 9.270509831, 28.531695489),
        (-2.5, 5.562305899, 17.119017293),
        (-2.5, 17.771650383, 16.001665879),
        (-2.5, -5.487704354, 28.882524769),
        (-2.5, -3.352979753, 18.260009279),
        (-2.5, 21.416368191, 20.14086169),
        (-2.5, 13.445581763, 12.801825774),
        (-2.5, 20.710230592, 11.957057207),
        (-2.5, 30, 0),
        (-2.5, 18, 0),
        (-2.5, 20.710230592, -11.957057207),
        (-2.5, 25.773119483, 14.14430798),
        (-2.5, 16.330173087, 8.831526428),
        (-2.5, 25.773119483, -14.14430798),
        (-2.5, 16.330173087, -8.831526428),
    ]]
    fillet(fillet4_edges, radius=FILLET4_R)


solid = part.part
